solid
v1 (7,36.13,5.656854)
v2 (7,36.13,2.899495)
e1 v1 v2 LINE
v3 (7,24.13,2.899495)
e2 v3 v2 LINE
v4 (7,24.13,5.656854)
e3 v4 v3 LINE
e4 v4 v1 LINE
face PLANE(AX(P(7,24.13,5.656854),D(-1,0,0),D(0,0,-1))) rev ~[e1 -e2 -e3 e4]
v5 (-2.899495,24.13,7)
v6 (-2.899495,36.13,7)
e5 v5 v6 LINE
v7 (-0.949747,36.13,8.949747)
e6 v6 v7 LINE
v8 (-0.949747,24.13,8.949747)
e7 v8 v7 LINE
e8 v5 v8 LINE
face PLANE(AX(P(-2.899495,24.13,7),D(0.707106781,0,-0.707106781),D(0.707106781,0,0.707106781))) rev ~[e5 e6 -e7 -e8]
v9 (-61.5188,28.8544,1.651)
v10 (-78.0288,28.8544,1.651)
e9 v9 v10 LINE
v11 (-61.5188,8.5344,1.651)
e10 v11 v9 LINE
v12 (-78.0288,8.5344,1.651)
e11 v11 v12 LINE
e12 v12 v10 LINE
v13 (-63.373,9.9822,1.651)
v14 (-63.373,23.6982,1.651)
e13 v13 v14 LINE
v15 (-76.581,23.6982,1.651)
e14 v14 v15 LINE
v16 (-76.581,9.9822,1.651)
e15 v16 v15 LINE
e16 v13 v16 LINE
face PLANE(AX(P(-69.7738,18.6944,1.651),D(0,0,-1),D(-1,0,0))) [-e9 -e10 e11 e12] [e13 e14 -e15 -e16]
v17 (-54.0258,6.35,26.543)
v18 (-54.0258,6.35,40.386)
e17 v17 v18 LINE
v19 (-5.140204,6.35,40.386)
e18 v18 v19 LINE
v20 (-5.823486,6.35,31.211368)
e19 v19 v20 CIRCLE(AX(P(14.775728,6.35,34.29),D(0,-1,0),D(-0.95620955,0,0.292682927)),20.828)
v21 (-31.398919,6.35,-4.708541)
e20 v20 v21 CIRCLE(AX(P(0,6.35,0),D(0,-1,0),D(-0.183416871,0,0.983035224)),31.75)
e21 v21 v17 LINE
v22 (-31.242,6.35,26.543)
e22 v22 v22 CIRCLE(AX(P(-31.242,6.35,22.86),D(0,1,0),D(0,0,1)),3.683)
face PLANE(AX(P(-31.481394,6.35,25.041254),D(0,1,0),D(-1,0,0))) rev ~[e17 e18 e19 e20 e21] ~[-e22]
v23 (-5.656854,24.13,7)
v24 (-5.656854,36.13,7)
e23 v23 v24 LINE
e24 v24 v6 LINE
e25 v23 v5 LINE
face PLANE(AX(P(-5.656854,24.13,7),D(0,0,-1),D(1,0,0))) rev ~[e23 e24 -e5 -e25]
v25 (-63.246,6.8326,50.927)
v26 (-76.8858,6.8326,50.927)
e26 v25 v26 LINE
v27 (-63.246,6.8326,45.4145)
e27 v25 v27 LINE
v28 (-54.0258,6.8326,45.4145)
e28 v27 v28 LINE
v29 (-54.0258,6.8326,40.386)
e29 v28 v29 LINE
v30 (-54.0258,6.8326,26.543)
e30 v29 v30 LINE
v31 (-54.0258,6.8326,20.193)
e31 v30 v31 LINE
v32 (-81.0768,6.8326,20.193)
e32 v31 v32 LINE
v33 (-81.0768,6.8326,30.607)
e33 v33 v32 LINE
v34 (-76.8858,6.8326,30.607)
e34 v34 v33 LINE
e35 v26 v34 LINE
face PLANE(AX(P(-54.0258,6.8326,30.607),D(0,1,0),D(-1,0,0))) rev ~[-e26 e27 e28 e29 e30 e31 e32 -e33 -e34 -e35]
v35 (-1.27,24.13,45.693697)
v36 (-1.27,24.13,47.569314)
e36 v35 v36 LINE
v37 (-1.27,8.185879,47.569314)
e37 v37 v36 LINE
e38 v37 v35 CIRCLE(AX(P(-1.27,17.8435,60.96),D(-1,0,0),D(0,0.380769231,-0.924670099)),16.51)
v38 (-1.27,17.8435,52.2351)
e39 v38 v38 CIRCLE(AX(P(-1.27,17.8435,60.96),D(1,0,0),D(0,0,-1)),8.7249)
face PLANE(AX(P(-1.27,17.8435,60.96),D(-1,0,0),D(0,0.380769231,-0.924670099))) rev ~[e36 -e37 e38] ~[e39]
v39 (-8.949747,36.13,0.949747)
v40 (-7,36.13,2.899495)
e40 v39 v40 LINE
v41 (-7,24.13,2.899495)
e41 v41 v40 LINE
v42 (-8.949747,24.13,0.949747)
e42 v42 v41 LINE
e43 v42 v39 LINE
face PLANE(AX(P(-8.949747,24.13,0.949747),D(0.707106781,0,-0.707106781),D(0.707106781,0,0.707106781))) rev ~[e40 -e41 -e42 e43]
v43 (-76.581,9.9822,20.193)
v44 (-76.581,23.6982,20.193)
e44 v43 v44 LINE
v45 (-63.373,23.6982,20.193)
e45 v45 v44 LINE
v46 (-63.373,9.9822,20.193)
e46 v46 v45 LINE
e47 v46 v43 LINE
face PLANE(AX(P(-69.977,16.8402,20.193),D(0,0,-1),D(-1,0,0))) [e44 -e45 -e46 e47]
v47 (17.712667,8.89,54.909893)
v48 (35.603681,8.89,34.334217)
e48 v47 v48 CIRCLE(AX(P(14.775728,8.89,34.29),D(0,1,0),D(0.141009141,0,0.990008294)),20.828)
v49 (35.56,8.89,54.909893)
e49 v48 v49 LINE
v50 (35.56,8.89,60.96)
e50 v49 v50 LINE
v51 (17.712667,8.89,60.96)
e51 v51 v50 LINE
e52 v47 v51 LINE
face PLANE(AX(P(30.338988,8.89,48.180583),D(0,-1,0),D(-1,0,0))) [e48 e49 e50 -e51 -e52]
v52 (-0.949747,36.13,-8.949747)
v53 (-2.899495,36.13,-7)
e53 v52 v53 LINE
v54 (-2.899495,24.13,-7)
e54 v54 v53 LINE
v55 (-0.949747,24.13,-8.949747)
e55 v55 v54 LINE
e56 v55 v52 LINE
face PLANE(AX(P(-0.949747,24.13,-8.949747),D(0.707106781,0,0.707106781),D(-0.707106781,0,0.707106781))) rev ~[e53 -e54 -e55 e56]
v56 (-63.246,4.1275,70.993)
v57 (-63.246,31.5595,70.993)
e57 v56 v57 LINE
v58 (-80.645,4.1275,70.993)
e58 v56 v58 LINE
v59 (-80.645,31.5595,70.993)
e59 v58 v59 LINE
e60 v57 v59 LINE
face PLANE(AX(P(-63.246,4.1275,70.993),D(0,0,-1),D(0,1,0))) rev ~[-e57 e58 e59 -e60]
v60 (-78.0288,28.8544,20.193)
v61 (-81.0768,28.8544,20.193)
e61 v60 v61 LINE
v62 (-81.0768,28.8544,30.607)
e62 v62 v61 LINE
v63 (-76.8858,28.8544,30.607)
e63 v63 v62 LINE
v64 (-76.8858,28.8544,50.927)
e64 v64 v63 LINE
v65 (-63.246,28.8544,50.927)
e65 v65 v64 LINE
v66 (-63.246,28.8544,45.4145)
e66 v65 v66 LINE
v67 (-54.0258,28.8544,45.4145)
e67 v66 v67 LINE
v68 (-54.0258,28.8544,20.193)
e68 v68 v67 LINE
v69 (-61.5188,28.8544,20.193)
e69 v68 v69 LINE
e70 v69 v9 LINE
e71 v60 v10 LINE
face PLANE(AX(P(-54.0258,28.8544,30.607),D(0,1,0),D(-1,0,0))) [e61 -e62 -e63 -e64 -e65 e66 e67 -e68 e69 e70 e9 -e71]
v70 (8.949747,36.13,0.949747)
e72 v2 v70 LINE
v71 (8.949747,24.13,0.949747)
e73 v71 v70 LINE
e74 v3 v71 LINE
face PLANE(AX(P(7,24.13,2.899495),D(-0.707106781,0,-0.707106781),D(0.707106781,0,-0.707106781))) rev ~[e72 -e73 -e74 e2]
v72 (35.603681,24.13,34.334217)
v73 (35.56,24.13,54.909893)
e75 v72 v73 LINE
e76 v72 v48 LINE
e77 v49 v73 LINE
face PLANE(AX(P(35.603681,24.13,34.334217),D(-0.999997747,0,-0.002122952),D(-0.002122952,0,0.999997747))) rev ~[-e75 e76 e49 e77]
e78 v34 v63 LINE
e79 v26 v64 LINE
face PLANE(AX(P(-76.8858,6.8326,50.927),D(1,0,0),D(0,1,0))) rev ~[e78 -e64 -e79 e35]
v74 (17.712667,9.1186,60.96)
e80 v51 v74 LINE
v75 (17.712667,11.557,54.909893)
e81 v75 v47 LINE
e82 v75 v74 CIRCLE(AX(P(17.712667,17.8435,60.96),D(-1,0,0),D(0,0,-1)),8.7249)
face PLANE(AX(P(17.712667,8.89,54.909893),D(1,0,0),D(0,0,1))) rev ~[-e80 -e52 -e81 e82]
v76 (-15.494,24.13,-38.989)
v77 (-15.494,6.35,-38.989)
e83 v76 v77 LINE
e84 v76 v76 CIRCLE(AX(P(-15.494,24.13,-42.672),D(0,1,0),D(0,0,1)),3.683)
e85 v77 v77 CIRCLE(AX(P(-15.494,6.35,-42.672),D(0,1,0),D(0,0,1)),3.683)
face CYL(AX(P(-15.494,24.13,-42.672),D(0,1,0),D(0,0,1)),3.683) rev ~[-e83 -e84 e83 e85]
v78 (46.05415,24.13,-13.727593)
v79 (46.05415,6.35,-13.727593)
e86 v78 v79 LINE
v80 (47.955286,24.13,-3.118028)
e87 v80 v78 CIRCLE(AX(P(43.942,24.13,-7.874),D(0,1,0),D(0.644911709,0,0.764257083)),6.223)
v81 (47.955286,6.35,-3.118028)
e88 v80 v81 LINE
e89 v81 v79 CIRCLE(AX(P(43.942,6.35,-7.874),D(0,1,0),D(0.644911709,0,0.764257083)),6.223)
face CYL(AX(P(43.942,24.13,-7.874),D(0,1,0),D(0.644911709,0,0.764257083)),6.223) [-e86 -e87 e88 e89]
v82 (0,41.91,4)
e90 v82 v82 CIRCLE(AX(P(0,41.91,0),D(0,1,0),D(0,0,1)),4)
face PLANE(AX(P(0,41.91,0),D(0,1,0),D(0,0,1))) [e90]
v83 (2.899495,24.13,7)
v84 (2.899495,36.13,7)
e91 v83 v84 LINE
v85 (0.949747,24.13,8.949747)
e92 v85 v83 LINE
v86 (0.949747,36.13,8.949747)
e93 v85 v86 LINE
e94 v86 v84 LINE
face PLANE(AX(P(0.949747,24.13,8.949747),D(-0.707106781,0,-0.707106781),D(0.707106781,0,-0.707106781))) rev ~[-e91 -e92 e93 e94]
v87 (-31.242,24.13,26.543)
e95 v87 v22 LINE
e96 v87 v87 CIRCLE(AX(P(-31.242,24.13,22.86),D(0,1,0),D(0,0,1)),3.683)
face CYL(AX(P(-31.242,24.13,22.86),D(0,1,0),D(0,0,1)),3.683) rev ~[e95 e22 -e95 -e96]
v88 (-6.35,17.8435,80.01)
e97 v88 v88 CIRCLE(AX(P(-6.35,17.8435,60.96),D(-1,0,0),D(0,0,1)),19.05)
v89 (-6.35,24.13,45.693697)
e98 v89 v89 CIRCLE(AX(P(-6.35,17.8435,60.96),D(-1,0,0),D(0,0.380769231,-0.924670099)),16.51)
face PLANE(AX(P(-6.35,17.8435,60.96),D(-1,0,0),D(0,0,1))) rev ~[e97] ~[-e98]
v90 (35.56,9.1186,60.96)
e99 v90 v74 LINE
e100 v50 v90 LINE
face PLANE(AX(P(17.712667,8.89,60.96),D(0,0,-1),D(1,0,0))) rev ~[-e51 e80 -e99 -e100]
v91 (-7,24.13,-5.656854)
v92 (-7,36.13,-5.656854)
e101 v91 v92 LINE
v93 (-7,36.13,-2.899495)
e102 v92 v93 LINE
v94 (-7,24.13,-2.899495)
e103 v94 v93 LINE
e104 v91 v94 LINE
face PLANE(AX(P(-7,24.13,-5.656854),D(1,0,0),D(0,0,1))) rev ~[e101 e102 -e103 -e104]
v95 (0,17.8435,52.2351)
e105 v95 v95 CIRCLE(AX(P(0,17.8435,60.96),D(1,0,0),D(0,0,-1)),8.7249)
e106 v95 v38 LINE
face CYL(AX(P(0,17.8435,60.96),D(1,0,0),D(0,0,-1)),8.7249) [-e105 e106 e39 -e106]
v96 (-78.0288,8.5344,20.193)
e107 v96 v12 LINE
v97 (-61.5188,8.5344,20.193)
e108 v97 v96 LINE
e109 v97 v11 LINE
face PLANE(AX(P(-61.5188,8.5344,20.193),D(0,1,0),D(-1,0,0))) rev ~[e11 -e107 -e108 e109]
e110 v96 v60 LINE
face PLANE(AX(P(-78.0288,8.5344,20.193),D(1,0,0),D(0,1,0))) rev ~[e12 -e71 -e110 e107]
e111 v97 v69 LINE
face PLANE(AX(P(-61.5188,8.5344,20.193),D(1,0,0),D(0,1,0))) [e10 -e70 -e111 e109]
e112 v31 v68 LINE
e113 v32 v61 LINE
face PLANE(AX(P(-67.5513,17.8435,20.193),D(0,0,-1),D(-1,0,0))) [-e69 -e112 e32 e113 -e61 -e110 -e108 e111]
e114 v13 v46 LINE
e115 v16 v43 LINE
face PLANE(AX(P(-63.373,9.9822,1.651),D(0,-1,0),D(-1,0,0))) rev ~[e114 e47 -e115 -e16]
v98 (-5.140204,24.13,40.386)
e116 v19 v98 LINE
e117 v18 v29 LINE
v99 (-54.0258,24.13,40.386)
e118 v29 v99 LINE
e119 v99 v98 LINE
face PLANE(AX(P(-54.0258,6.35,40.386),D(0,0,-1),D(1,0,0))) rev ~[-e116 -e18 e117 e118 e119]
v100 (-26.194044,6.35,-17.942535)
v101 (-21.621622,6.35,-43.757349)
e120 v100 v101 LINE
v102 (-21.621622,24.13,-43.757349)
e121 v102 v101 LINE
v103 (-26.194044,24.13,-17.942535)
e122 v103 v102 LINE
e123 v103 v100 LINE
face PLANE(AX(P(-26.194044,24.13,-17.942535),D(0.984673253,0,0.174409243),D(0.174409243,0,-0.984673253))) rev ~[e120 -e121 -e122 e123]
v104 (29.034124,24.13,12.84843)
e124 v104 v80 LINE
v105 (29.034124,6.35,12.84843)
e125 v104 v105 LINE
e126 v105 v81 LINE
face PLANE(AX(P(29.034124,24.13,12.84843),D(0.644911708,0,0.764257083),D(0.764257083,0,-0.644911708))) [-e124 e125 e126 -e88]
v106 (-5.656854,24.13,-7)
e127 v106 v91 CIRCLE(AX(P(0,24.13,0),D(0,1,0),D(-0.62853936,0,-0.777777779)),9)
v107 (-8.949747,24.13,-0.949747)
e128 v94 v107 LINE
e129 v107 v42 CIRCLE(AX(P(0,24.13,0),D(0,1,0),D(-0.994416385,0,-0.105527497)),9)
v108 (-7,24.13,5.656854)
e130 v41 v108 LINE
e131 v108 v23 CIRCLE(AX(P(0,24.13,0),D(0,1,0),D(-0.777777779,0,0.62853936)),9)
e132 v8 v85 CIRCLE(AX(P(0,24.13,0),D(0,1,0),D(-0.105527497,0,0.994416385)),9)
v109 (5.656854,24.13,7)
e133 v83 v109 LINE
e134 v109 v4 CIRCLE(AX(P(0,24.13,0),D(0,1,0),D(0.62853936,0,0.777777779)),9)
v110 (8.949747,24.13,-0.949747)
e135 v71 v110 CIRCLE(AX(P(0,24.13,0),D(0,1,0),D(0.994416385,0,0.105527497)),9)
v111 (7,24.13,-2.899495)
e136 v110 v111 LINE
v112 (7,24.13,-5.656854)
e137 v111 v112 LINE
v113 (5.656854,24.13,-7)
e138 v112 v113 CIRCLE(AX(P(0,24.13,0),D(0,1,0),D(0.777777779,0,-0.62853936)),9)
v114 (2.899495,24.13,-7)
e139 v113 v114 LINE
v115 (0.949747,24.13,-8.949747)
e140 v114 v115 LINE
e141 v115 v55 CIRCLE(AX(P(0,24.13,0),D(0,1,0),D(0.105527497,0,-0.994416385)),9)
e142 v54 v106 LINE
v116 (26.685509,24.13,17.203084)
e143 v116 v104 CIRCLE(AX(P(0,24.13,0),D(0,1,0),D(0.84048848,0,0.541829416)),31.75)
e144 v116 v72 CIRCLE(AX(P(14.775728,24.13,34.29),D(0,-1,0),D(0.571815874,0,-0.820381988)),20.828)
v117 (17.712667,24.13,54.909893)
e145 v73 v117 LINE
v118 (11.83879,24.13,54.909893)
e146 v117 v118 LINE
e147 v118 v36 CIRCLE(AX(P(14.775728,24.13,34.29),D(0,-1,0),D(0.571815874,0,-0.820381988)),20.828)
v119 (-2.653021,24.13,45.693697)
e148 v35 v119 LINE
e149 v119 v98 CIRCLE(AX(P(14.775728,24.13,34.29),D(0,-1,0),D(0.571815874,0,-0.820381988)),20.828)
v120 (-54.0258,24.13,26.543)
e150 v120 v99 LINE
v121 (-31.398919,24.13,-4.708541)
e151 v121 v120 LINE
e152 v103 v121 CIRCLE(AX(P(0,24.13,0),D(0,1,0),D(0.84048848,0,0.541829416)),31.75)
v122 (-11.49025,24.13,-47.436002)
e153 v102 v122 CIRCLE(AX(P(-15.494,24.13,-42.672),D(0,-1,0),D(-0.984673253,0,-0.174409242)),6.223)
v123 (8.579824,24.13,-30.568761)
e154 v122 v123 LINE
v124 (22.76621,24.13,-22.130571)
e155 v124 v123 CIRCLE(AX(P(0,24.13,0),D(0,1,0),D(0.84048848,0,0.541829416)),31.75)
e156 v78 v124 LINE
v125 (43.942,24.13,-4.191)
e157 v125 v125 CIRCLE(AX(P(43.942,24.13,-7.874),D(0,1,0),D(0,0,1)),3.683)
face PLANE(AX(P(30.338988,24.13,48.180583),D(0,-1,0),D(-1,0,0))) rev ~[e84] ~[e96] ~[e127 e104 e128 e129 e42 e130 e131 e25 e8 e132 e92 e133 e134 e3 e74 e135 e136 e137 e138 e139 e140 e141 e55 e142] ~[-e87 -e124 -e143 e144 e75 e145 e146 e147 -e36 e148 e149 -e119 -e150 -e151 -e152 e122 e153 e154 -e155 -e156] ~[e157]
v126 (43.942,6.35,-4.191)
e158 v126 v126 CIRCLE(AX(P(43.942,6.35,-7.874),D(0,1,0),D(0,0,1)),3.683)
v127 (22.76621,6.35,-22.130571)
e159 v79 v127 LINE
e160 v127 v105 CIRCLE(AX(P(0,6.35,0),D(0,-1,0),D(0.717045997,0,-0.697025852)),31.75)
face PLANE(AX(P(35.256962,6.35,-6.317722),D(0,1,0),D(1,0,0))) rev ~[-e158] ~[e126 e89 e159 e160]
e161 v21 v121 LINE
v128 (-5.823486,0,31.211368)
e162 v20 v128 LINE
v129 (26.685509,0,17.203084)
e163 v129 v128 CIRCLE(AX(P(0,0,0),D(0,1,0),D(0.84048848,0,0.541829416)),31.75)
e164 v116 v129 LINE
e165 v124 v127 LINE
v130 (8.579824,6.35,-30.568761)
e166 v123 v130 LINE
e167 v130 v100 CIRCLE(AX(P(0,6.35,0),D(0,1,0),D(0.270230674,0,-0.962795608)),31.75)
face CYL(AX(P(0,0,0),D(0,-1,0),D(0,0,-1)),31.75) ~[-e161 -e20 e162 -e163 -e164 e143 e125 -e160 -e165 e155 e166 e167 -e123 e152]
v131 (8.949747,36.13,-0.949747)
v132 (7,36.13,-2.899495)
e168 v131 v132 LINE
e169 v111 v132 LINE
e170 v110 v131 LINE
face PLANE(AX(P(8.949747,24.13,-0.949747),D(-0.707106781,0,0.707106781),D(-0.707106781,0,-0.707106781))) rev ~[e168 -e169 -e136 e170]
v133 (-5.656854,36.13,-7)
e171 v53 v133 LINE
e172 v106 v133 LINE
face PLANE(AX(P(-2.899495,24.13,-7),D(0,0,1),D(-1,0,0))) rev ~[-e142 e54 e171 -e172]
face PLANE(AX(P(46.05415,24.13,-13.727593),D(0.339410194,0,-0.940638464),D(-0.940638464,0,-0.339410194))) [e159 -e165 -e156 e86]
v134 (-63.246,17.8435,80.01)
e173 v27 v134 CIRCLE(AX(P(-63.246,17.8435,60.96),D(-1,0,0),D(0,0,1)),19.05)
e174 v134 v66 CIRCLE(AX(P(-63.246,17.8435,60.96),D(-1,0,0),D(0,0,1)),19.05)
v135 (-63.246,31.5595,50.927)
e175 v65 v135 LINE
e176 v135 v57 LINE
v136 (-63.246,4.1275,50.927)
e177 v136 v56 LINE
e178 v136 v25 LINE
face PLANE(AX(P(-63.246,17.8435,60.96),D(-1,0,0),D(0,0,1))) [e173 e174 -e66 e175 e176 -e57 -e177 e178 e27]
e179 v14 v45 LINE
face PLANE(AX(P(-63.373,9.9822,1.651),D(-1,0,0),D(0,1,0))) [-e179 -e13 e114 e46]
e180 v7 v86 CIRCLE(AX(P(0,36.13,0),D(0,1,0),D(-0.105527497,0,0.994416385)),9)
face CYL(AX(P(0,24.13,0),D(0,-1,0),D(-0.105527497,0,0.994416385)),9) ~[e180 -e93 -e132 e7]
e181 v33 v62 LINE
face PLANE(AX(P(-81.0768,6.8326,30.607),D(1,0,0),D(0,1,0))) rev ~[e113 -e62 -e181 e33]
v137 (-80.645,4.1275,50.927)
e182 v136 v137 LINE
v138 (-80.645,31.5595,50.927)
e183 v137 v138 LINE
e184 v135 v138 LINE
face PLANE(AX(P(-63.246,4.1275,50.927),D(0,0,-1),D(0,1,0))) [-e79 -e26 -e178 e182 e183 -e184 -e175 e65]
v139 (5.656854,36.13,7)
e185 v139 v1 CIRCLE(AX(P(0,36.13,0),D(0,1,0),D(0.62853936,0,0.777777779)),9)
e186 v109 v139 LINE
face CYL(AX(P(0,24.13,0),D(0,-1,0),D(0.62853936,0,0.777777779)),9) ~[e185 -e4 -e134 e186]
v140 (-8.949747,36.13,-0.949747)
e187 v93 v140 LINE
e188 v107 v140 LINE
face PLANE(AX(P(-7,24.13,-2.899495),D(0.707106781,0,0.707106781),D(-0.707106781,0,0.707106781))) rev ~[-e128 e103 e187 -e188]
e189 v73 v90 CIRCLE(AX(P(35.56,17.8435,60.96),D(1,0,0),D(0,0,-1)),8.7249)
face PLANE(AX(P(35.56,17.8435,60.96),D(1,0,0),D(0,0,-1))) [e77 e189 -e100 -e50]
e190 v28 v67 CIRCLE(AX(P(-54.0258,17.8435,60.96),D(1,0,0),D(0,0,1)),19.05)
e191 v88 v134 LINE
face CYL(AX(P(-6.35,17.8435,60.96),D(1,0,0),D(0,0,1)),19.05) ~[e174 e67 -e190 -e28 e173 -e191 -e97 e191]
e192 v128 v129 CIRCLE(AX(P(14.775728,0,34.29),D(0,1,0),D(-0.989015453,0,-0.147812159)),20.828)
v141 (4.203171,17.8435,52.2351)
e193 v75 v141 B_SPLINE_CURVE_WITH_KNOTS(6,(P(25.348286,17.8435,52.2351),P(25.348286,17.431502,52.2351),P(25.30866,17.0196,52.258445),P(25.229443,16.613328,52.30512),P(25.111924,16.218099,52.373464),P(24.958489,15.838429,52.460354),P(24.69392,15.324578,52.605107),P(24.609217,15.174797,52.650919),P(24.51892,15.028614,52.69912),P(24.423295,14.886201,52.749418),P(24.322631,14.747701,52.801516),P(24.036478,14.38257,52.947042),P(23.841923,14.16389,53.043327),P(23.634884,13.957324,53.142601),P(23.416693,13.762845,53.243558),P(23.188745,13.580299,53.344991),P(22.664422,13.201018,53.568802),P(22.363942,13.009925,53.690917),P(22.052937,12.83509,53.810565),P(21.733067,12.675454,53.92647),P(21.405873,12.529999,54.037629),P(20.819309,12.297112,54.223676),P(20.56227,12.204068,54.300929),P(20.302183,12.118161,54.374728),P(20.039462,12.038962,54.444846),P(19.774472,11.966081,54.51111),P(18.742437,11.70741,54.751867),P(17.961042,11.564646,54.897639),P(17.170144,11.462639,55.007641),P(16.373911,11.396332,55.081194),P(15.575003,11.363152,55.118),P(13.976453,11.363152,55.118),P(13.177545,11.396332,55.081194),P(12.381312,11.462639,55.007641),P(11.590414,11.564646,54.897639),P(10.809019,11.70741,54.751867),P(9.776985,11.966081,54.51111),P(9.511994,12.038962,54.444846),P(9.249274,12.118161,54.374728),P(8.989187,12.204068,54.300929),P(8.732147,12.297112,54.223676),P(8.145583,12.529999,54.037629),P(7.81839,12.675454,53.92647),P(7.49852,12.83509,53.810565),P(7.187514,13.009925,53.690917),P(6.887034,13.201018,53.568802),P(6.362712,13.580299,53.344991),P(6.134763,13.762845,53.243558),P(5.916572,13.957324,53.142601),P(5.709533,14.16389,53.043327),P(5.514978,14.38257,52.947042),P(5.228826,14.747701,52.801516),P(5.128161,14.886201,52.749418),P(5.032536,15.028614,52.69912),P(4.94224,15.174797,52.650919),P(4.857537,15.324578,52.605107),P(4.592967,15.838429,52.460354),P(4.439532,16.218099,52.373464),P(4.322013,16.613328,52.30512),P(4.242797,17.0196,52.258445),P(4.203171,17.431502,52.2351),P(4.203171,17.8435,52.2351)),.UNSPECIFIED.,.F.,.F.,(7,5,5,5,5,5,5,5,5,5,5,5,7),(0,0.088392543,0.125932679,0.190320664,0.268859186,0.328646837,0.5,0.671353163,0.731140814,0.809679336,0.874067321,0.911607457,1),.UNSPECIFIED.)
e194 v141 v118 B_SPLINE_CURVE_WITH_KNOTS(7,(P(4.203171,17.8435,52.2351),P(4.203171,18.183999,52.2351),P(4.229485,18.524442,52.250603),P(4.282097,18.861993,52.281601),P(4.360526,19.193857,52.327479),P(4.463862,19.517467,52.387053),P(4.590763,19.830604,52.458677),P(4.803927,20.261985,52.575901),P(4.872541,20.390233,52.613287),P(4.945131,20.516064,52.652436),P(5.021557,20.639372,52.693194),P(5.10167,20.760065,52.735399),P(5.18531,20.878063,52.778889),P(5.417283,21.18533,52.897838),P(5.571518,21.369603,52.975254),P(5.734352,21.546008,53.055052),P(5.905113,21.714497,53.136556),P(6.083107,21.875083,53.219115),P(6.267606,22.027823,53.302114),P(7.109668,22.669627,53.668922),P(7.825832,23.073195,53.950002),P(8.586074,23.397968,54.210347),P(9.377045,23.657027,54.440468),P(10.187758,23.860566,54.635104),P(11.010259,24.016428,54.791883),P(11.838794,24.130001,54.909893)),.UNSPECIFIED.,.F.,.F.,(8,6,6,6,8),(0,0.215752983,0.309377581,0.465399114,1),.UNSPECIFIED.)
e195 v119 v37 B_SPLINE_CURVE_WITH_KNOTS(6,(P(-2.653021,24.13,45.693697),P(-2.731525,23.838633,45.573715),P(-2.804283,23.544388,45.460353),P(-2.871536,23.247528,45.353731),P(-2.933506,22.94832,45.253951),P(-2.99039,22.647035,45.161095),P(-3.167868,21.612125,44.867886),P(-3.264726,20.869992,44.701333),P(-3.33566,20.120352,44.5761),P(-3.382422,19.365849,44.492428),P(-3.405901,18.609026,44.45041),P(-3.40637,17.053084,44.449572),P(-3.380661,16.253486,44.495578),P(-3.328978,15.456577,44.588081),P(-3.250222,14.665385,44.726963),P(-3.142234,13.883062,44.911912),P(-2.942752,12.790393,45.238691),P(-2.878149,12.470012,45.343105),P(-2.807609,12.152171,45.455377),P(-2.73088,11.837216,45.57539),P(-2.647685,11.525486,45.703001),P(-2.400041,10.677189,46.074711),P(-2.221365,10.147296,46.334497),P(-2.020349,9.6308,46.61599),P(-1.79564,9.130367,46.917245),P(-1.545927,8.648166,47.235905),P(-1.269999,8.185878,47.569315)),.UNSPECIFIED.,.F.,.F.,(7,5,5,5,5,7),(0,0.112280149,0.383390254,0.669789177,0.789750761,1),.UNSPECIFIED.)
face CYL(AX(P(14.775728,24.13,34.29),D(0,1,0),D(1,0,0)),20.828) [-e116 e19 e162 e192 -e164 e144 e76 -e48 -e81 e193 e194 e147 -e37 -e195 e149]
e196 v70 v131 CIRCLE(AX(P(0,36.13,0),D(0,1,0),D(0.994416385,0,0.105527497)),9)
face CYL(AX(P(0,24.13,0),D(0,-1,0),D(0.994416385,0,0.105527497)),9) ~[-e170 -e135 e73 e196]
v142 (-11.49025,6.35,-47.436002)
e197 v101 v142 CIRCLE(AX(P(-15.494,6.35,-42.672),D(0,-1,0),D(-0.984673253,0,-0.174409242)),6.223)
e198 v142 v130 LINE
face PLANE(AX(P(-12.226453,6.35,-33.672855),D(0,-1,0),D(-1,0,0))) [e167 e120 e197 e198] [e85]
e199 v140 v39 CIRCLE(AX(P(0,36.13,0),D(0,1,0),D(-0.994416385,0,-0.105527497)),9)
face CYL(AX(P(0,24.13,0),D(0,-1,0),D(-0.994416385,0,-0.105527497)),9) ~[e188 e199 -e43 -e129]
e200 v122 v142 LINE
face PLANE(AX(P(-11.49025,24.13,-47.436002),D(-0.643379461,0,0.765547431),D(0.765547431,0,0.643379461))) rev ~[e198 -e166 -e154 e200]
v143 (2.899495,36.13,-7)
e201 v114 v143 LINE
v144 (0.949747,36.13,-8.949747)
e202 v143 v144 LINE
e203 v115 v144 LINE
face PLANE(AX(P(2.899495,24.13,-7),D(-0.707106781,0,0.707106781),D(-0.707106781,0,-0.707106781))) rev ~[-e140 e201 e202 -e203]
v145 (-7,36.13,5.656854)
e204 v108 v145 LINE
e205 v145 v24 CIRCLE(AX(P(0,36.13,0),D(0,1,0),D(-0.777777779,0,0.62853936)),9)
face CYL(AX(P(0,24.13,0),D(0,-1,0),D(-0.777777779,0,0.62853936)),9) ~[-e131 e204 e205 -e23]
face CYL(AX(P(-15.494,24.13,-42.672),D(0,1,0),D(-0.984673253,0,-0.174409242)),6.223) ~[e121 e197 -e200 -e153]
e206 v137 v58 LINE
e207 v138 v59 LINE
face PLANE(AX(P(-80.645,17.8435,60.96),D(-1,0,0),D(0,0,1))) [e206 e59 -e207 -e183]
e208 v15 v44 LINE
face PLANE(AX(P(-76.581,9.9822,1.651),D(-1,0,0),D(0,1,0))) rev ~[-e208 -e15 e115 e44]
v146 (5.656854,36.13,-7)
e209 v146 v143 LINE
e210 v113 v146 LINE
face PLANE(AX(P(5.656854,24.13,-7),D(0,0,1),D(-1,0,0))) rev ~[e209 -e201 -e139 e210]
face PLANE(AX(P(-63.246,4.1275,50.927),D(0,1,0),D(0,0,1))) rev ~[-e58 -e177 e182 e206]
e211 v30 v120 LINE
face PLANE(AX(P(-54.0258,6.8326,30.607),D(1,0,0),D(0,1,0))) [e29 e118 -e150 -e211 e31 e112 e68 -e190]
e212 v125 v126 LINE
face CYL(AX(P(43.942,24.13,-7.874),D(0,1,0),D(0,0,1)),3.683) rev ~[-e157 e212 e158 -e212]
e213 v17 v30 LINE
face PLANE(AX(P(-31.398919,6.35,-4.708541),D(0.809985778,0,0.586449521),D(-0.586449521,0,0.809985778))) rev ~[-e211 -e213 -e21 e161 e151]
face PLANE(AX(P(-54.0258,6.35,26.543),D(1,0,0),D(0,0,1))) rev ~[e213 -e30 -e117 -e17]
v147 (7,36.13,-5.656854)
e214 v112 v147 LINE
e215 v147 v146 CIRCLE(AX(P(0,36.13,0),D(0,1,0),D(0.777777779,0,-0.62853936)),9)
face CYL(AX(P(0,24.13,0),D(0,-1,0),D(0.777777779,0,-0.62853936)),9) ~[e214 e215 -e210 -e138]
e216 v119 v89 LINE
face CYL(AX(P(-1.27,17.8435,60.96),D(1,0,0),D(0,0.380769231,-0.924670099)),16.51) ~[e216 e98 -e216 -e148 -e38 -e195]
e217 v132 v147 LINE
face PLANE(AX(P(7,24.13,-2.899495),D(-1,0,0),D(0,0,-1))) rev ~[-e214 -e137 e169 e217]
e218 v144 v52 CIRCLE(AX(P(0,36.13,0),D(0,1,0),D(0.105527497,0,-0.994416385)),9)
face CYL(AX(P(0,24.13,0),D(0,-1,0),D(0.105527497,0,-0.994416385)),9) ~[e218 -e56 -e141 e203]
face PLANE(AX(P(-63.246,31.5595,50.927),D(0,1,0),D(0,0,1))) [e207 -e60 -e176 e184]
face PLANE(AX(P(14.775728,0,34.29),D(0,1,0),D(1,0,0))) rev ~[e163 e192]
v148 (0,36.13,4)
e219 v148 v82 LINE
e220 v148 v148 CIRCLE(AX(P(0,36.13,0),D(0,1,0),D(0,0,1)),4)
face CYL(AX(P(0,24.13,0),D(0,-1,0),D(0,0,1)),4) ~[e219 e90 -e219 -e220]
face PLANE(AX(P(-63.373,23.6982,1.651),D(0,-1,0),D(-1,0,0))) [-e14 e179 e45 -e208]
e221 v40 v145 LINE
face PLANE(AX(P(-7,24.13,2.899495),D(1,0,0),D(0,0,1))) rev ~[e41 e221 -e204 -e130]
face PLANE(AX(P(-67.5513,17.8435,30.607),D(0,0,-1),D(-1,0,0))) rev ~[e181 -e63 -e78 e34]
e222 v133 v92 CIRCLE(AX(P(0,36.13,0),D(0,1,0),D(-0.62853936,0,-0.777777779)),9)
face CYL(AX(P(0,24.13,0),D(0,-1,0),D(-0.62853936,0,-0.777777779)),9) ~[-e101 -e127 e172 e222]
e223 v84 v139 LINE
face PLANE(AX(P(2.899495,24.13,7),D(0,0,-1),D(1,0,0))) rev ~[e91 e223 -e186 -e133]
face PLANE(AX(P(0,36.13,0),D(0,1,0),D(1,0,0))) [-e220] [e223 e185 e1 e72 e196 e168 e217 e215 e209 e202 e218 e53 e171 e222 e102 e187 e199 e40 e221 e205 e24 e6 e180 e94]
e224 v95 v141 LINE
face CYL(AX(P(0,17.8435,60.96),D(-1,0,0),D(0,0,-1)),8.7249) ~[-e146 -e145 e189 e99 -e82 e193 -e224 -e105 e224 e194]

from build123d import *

# Parameters (mm, degrees)
SKETCH1_R                = 31.75
BOSS_EXTRUDE1_DEPTH      = 24.13
SKETCH2_R                = 20.828
BOSS_EXTRUDE2_DEPTH      = 24.13
SKETCH3_R                = 8.7249
BOSS_EXTRUDE3_DEPTH      = 35.56
BOSS_EXTRUDE3_DEPTH_BACK = 1.27
SKETCH4_R                = 16.51
BOSS_EXTRUDE4_DEPTH      = 5.08
SKETCH5_R                = 19.05
BOSS_EXTRUDE5_DEPTH      = 56.896
SKETCH6_W                = 20.066
SKETCH6_H                = 27.432
BOSS_EXTRUDE6_DEPTH      = 17.399
SKETCH7_W                = 22.86
SKETCH7_H                = 22.0218
BOSS_EXTRUDE7_DEPTH      = 20.32
SKETCH8_W                = 27.051
SKETCH8_H                = 22.0218
BOSS_EXTRUDE8_DEPTH      = 10.414
SKETCH9_W                = 16.51
SKETCH9_H                = 20.32
BOSS_EXTRUDE9_DEPTH      = 18.542
SKETCH10_W               = 13.208
SKETCH10_H               = 13.716
CUT_EXTRUDE1_DEPTH       = 18.542
BOSS_EXTRUDE10_START     = -6.35
BOSS_EXTRUDE10_DEPTH     = 17.78
BOSS_EXTRUDE11_DEPTH     = 15.24
SKETCH13_W               = 17.847333413
SKETCH13_H               = 6.050107252
BOSS_EXTRUDE12_DEPTH     = 15.24
SKETCH14_R               = 3.683
BOSS_EXTRUDE13_DEPTH     = 17.78
SKETCH15_R               = 3.683
CUT_EXTRUDE2_DEPTH       = 117.691841319
SKETCH16_R               = 4
BOSS_EXTRUDE14_DEPTH     = 17.78
SKETCH17_R               = 4
BOSS_EXTRUDE15_DEPTH     = 12


with BuildPart() as part:
    # Sketch1 → Boss-Extrude1 (new body)
    with BuildSketch(Plane(origin=(0, 0, 0), x_dir=(1, 0, 0), z_dir=(0, 1, 0))):
        with Locations(Location((0, 0, 0), (0, 0, 90))):
            Circle(SKETCH1_R)
    extrude(amount=BOSS_EXTRUDE1_DEPTH)

    # Sketch2 → Boss-Extrude2 (add)
    with BuildSketch(Plane(origin=(0, 24.13, 0), x_dir=(1, 0, 0), z_dir=(0, 1, 0))):
        with Locations((14.775728205, -34.29)):
            Circle(SKETCH2_R)
    extrude(amount=-BOSS_EXTRUDE2_DEPTH)

    # Sketch3 → Boss-Extrude3 (add, two sides)
    with BuildSketch(Plane(origin=(0, 0, 0), x_dir=(0, 0, -1), z_dir=(1, 0, 0))) as boss_extrude3_sk:
        with Locations((-60.96, 17.8435)):
            Circle(SKETCH3_R)
    extrude(amount=BOSS_EXTRUDE3_DEPTH)
    extrude(boss_extrude3_sk.sketch, amount=-BOSS_EXTRUDE3_DEPTH_BACK)

    # Sketch4 → Boss-Extrude4 (add)
    with BuildSketch(Plane.ZY.offset(1.27)):
        with Locations(Location((60.96, 17.8435, 0), (0, 0, 157.618661281))):
            Circle(SKETCH4_R)
    extrude(amount=BOSS_EXTRUDE4_DEPTH)

    # Sketch5 → Boss-Extrude5 (add)
    with BuildSketch(Plane.ZY.offset(6.35)):
        with Locations((60.96, 17.8435)):
            Circle(SKETCH5_R)
    extrude(amount=BOSS_EXTRUDE5_DEPTH)

    # Sketch6 → Boss-Extrude6 (add)
    with BuildSketch(Plane.ZY.offset(63.246)):
        with Locations((60.96, 17.8435)):
            Rectangle(SKETCH6_W, SKETCH6_H)
    extrude(amount=BOSS_EXTRUDE6_DEPTH)

    # Sketch7 → Boss-Extrude7 (add)
    with BuildSketch(Plane(origin=(0, 0, 50.927), x_dir=(-1, 0, 0), z_dir=(0, 0, -1))):
        with Locations((65.4558, 17.8435)):
            Rectangle(SKETCH7_W, SKETCH7_H)
    extrude(amount=BOSS_EXTRUDE7_DEPTH)

    # Sketch8 → Boss-Extrude8 (add)
    with BuildSketch(Plane(origin=(0, 0, 30.607), x_dir=(-1, 0, 0), z_dir=(0, 0, -1))):
        with Locations((67.5513, 17.8435)):
            Rectangle(SKETCH8_W, SKETCH8_H)
    extrude(amount=BOSS_EXTRUDE8_DEPTH)

    # Sketch9 → Boss-Extrude9 (add)
    with BuildSketch(Plane(origin=(0, 0, 20.193), x_dir=(-1, 0, 0), z_dir=(0, 0, -1))):
        with Locations((69.7738, 18.6944)):
            Rectangle(SKETCH9_W, SKETCH9_H)
    extrude(amount=BOSS_EXTRUDE9_DEPTH)

    # Sketch10 → Cut-Extrude1 (cut)
    with BuildSketch(Plane(origin=(0, 0, 1.651), x_dir=(-1, 0, 0), z_dir=(0, 0, -1))):
        with Locations((69.977, 16.8402)):
            Rectangle(SKETCH10_W, SKETCH10_H)
    extrude(amount=-CUT_EXTRUDE1_DEPTH, mode=Mode.SUBTRACT)

    # Sketch11 → Boss-Extrude10 (add)
    with BuildSketch(Plane.XZ.offset(BOSS_EXTRUDE10_START)):
        with BuildLine():
            Line((-31.398919365, -4.708541462), (-54.0258, 26.543))
            Line((-54.0258, 26.543), (-54.0258, 40.386))
            Line((-54.0258, 40.386), (-5.140204311, 40.386))
            ThreePointArc((-5.140204311, 40.386), (-5.994749346, 35.836882769), (-5.823485644, 31.211368361))
            ThreePointArc((-5.823485644, 31.211368361), (-25.863813313, 18.415364805), (-31.398919365, -4.708541462))
        make_face()
    extrude(amount=-BOSS_EXTRUDE10_DEPTH)

    # Sketch12 → Boss-Extrude11 (add)
    with BuildSketch(Plane(origin=(0, 24.13, 0), x_dir=(1, 0, 0), z_dir=(0, 1, 0))):
        with BuildLine():
            Line((35.60368127, -34.334216844), (35.56, -54.909892748))
            Line((35.56, -54.909892748), (17.712666587, -54.909892748))
            ThreePointArc((17.712666587, -54.909892748), (30.492983885, -47.956508622), (35.60368127, -34.334216844))
        make_face()
    extrude(amount=-BOSS_EXTRUDE11_DEPTH)

    # Sketch13 → Boss-Extrude12 (add)
    with BuildSketch(Plane.XZ.offset(-8.89)):
        with Locations((26.636333294, 57.934946374)):
            Rectangle(SKETCH13_W, SKETCH13_H)
    extrude(amount=-BOSS_EXTRUDE12_DEPTH)

    # Sketch14 → Boss-Extrude13 (add)
    with BuildSketch(Plane(origin=(0, 24.13, 0), x_dir=(1, 0, 0), z_dir=(0, 1, 0))):
        with BuildLine():
            Line((-26.194044188, 17.942534634), (-21.621621656, 43.757348716))
            ThreePointArc((-21.621621656, 43.757348716), (-17.617871268, 48.521350377), (-11.490249612, 47.436001661))
            Line((-11.490249612, 47.436001661), (8.579823912, 30.568760551))
            ThreePointArc((8.579823912, 30.568760551), (-10.836077898, 29.843624374), (-26.194044188, 17.942534634))
        make_face()
        with Locations(Location((-15.494, 42.672, 0), (0, 0, 270))):
            Circle(SKETCH14_R, mode=Mode.SUBTRACT)
        with BuildLine():
            Line((46.054149639, 13.727593162), (22.766210397, 22.130570805))
            ThreePointArc((22.766210397, 22.130570805), (31.252220413, 5.60010886), (29.034123834, -12.848429989))
            Line((29.034123834, -12.848429989), (47.955285562, 3.118028175))
            ThreePointArc((47.955285562, 3.118028175), (50.067435201, 8.971621337), (46.054149639, 13.727593162))
        make_face()
        with Locations(Location((43.942, 7.874, 0), (0, 0, 270))):
            Circle(SKETCH14_R, mode=Mode.SUBTRACT)
    extrude(amount=-BOSS_EXTRUDE13_DEPTH)

    # Sketch15 → Cut-Extrude2 (cut, through all)
    with BuildSketch(Plane(origin=(0, 24.13, 0), x_dir=(1, 0, 0), z_dir=(0, 1, 0))):
        with Locations(Location((-31.242, -22.86, 0), (0, 0, 270))):
            Circle(SKETCH15_R)
        with Locations(Location((43.942, 7.874, 0), (0, 0, 270))):
            Circle(SKETCH15_R)
        with Locations(Location((-15.494, 42.672, 0), (0, 0, 270))):
            Circle(SKETCH15_R)
    extrude(amount=-CUT_EXTRUDE2_DEPTH, mode=Mode.SUBTRACT)

    # Sketch16 → Boss-Extrude14 (add)
    with BuildSketch(Plane(origin=(0, 24.13, 0), x_dir=(1, 0, 0), z_dir=(0, 1, 0))):
        with Locations(Location((0, 0, 0), (0, 0, 270))):
            Circle(SKETCH16_R)
    extrude(amount=BOSS_EXTRUDE14_DEPTH)

    # Sketch17 → Boss-Extrude15 (add)
    with BuildSketch(Plane(origin=(0, 24.13, 0), x_dir=(1, 0, 0), z_dir=(0, 1, 0))):
        with BuildLine():
            Line((-2.899494937, -7), (-0.949747468, -8.949747468))
            ThreePointArc((-0.949747468, -8.949747468), (0, -9), (0.949747468, -8.949747468))
            Line((0.949747468, -8.949747468), (2.899494937, -7))
            Line((2.899494937, -7), (5.656854249, -7))
            ThreePointArc((5.656854249, -7), (6.363961031, -6.363961031), (7, -5.656854249))
            Line((7, -5.656854249), (7, -2.899494937))
            Line((7, -2.899494937), (8.949747468, -0.949747468))
            ThreePointArc((8.949747468, -0.949747468), (9, 0), (8.949747468, 0.949747468))
            Line((8.949747468, 0.949747468), (7, 2.899494937))
            Line((7, 2.899494937), (7, 5.656854249))
            ThreePointArc((7, 5.656854249), (6.363961031, 6.363961031), (5.656854249, 7))
            Line((5.656854249, 7), (2.899494937, 7))
            Line((2.899494937, 7), (0.949747468, 8.949747468))
            ThreePointArc((0.949747468, 8.949747468), (0, 9), (-0.949747468, 8.949747468))
            Line((-0.949747468, 8.949747468), (-2.899494937, 7))
            Line((-2.899494937, 7), (-5.656854249, 7))
            ThreePointArc((-5.656854249, 7), (-6.363961031, 6.363961031), (-7, 5.656854249))
            Line((-7, 5.656854249), (-7, 2.899494937))
            Line((-7, 2.899494937), (-8.949747468, 0.949747468))
            ThreePointArc((-8.949747468, 0.949747468), (-9, 0), (-8.949747468, -0.949747468))
            Line((-8.949747468, -0.949747468), (-7, -2.899494937))
            Line((-7, -2.899494937), (-7, -5.656854249))
            ThreePointArc((-7, -5.656854249), (-6.363961031, -6.363961031), (-5.656854249, -7))
            Line((-5.656854249, -7), (-2.899494937, -7))
        make_face()
        with Locations(Location((0, 0, 0), (0, 0, 270))):
            Circle(SKETCH17_R, mode=Mode.SUBTRACT)
    extrude(amount=BOSS_EXTRUDE15_DEPTH)


solid = part.part
